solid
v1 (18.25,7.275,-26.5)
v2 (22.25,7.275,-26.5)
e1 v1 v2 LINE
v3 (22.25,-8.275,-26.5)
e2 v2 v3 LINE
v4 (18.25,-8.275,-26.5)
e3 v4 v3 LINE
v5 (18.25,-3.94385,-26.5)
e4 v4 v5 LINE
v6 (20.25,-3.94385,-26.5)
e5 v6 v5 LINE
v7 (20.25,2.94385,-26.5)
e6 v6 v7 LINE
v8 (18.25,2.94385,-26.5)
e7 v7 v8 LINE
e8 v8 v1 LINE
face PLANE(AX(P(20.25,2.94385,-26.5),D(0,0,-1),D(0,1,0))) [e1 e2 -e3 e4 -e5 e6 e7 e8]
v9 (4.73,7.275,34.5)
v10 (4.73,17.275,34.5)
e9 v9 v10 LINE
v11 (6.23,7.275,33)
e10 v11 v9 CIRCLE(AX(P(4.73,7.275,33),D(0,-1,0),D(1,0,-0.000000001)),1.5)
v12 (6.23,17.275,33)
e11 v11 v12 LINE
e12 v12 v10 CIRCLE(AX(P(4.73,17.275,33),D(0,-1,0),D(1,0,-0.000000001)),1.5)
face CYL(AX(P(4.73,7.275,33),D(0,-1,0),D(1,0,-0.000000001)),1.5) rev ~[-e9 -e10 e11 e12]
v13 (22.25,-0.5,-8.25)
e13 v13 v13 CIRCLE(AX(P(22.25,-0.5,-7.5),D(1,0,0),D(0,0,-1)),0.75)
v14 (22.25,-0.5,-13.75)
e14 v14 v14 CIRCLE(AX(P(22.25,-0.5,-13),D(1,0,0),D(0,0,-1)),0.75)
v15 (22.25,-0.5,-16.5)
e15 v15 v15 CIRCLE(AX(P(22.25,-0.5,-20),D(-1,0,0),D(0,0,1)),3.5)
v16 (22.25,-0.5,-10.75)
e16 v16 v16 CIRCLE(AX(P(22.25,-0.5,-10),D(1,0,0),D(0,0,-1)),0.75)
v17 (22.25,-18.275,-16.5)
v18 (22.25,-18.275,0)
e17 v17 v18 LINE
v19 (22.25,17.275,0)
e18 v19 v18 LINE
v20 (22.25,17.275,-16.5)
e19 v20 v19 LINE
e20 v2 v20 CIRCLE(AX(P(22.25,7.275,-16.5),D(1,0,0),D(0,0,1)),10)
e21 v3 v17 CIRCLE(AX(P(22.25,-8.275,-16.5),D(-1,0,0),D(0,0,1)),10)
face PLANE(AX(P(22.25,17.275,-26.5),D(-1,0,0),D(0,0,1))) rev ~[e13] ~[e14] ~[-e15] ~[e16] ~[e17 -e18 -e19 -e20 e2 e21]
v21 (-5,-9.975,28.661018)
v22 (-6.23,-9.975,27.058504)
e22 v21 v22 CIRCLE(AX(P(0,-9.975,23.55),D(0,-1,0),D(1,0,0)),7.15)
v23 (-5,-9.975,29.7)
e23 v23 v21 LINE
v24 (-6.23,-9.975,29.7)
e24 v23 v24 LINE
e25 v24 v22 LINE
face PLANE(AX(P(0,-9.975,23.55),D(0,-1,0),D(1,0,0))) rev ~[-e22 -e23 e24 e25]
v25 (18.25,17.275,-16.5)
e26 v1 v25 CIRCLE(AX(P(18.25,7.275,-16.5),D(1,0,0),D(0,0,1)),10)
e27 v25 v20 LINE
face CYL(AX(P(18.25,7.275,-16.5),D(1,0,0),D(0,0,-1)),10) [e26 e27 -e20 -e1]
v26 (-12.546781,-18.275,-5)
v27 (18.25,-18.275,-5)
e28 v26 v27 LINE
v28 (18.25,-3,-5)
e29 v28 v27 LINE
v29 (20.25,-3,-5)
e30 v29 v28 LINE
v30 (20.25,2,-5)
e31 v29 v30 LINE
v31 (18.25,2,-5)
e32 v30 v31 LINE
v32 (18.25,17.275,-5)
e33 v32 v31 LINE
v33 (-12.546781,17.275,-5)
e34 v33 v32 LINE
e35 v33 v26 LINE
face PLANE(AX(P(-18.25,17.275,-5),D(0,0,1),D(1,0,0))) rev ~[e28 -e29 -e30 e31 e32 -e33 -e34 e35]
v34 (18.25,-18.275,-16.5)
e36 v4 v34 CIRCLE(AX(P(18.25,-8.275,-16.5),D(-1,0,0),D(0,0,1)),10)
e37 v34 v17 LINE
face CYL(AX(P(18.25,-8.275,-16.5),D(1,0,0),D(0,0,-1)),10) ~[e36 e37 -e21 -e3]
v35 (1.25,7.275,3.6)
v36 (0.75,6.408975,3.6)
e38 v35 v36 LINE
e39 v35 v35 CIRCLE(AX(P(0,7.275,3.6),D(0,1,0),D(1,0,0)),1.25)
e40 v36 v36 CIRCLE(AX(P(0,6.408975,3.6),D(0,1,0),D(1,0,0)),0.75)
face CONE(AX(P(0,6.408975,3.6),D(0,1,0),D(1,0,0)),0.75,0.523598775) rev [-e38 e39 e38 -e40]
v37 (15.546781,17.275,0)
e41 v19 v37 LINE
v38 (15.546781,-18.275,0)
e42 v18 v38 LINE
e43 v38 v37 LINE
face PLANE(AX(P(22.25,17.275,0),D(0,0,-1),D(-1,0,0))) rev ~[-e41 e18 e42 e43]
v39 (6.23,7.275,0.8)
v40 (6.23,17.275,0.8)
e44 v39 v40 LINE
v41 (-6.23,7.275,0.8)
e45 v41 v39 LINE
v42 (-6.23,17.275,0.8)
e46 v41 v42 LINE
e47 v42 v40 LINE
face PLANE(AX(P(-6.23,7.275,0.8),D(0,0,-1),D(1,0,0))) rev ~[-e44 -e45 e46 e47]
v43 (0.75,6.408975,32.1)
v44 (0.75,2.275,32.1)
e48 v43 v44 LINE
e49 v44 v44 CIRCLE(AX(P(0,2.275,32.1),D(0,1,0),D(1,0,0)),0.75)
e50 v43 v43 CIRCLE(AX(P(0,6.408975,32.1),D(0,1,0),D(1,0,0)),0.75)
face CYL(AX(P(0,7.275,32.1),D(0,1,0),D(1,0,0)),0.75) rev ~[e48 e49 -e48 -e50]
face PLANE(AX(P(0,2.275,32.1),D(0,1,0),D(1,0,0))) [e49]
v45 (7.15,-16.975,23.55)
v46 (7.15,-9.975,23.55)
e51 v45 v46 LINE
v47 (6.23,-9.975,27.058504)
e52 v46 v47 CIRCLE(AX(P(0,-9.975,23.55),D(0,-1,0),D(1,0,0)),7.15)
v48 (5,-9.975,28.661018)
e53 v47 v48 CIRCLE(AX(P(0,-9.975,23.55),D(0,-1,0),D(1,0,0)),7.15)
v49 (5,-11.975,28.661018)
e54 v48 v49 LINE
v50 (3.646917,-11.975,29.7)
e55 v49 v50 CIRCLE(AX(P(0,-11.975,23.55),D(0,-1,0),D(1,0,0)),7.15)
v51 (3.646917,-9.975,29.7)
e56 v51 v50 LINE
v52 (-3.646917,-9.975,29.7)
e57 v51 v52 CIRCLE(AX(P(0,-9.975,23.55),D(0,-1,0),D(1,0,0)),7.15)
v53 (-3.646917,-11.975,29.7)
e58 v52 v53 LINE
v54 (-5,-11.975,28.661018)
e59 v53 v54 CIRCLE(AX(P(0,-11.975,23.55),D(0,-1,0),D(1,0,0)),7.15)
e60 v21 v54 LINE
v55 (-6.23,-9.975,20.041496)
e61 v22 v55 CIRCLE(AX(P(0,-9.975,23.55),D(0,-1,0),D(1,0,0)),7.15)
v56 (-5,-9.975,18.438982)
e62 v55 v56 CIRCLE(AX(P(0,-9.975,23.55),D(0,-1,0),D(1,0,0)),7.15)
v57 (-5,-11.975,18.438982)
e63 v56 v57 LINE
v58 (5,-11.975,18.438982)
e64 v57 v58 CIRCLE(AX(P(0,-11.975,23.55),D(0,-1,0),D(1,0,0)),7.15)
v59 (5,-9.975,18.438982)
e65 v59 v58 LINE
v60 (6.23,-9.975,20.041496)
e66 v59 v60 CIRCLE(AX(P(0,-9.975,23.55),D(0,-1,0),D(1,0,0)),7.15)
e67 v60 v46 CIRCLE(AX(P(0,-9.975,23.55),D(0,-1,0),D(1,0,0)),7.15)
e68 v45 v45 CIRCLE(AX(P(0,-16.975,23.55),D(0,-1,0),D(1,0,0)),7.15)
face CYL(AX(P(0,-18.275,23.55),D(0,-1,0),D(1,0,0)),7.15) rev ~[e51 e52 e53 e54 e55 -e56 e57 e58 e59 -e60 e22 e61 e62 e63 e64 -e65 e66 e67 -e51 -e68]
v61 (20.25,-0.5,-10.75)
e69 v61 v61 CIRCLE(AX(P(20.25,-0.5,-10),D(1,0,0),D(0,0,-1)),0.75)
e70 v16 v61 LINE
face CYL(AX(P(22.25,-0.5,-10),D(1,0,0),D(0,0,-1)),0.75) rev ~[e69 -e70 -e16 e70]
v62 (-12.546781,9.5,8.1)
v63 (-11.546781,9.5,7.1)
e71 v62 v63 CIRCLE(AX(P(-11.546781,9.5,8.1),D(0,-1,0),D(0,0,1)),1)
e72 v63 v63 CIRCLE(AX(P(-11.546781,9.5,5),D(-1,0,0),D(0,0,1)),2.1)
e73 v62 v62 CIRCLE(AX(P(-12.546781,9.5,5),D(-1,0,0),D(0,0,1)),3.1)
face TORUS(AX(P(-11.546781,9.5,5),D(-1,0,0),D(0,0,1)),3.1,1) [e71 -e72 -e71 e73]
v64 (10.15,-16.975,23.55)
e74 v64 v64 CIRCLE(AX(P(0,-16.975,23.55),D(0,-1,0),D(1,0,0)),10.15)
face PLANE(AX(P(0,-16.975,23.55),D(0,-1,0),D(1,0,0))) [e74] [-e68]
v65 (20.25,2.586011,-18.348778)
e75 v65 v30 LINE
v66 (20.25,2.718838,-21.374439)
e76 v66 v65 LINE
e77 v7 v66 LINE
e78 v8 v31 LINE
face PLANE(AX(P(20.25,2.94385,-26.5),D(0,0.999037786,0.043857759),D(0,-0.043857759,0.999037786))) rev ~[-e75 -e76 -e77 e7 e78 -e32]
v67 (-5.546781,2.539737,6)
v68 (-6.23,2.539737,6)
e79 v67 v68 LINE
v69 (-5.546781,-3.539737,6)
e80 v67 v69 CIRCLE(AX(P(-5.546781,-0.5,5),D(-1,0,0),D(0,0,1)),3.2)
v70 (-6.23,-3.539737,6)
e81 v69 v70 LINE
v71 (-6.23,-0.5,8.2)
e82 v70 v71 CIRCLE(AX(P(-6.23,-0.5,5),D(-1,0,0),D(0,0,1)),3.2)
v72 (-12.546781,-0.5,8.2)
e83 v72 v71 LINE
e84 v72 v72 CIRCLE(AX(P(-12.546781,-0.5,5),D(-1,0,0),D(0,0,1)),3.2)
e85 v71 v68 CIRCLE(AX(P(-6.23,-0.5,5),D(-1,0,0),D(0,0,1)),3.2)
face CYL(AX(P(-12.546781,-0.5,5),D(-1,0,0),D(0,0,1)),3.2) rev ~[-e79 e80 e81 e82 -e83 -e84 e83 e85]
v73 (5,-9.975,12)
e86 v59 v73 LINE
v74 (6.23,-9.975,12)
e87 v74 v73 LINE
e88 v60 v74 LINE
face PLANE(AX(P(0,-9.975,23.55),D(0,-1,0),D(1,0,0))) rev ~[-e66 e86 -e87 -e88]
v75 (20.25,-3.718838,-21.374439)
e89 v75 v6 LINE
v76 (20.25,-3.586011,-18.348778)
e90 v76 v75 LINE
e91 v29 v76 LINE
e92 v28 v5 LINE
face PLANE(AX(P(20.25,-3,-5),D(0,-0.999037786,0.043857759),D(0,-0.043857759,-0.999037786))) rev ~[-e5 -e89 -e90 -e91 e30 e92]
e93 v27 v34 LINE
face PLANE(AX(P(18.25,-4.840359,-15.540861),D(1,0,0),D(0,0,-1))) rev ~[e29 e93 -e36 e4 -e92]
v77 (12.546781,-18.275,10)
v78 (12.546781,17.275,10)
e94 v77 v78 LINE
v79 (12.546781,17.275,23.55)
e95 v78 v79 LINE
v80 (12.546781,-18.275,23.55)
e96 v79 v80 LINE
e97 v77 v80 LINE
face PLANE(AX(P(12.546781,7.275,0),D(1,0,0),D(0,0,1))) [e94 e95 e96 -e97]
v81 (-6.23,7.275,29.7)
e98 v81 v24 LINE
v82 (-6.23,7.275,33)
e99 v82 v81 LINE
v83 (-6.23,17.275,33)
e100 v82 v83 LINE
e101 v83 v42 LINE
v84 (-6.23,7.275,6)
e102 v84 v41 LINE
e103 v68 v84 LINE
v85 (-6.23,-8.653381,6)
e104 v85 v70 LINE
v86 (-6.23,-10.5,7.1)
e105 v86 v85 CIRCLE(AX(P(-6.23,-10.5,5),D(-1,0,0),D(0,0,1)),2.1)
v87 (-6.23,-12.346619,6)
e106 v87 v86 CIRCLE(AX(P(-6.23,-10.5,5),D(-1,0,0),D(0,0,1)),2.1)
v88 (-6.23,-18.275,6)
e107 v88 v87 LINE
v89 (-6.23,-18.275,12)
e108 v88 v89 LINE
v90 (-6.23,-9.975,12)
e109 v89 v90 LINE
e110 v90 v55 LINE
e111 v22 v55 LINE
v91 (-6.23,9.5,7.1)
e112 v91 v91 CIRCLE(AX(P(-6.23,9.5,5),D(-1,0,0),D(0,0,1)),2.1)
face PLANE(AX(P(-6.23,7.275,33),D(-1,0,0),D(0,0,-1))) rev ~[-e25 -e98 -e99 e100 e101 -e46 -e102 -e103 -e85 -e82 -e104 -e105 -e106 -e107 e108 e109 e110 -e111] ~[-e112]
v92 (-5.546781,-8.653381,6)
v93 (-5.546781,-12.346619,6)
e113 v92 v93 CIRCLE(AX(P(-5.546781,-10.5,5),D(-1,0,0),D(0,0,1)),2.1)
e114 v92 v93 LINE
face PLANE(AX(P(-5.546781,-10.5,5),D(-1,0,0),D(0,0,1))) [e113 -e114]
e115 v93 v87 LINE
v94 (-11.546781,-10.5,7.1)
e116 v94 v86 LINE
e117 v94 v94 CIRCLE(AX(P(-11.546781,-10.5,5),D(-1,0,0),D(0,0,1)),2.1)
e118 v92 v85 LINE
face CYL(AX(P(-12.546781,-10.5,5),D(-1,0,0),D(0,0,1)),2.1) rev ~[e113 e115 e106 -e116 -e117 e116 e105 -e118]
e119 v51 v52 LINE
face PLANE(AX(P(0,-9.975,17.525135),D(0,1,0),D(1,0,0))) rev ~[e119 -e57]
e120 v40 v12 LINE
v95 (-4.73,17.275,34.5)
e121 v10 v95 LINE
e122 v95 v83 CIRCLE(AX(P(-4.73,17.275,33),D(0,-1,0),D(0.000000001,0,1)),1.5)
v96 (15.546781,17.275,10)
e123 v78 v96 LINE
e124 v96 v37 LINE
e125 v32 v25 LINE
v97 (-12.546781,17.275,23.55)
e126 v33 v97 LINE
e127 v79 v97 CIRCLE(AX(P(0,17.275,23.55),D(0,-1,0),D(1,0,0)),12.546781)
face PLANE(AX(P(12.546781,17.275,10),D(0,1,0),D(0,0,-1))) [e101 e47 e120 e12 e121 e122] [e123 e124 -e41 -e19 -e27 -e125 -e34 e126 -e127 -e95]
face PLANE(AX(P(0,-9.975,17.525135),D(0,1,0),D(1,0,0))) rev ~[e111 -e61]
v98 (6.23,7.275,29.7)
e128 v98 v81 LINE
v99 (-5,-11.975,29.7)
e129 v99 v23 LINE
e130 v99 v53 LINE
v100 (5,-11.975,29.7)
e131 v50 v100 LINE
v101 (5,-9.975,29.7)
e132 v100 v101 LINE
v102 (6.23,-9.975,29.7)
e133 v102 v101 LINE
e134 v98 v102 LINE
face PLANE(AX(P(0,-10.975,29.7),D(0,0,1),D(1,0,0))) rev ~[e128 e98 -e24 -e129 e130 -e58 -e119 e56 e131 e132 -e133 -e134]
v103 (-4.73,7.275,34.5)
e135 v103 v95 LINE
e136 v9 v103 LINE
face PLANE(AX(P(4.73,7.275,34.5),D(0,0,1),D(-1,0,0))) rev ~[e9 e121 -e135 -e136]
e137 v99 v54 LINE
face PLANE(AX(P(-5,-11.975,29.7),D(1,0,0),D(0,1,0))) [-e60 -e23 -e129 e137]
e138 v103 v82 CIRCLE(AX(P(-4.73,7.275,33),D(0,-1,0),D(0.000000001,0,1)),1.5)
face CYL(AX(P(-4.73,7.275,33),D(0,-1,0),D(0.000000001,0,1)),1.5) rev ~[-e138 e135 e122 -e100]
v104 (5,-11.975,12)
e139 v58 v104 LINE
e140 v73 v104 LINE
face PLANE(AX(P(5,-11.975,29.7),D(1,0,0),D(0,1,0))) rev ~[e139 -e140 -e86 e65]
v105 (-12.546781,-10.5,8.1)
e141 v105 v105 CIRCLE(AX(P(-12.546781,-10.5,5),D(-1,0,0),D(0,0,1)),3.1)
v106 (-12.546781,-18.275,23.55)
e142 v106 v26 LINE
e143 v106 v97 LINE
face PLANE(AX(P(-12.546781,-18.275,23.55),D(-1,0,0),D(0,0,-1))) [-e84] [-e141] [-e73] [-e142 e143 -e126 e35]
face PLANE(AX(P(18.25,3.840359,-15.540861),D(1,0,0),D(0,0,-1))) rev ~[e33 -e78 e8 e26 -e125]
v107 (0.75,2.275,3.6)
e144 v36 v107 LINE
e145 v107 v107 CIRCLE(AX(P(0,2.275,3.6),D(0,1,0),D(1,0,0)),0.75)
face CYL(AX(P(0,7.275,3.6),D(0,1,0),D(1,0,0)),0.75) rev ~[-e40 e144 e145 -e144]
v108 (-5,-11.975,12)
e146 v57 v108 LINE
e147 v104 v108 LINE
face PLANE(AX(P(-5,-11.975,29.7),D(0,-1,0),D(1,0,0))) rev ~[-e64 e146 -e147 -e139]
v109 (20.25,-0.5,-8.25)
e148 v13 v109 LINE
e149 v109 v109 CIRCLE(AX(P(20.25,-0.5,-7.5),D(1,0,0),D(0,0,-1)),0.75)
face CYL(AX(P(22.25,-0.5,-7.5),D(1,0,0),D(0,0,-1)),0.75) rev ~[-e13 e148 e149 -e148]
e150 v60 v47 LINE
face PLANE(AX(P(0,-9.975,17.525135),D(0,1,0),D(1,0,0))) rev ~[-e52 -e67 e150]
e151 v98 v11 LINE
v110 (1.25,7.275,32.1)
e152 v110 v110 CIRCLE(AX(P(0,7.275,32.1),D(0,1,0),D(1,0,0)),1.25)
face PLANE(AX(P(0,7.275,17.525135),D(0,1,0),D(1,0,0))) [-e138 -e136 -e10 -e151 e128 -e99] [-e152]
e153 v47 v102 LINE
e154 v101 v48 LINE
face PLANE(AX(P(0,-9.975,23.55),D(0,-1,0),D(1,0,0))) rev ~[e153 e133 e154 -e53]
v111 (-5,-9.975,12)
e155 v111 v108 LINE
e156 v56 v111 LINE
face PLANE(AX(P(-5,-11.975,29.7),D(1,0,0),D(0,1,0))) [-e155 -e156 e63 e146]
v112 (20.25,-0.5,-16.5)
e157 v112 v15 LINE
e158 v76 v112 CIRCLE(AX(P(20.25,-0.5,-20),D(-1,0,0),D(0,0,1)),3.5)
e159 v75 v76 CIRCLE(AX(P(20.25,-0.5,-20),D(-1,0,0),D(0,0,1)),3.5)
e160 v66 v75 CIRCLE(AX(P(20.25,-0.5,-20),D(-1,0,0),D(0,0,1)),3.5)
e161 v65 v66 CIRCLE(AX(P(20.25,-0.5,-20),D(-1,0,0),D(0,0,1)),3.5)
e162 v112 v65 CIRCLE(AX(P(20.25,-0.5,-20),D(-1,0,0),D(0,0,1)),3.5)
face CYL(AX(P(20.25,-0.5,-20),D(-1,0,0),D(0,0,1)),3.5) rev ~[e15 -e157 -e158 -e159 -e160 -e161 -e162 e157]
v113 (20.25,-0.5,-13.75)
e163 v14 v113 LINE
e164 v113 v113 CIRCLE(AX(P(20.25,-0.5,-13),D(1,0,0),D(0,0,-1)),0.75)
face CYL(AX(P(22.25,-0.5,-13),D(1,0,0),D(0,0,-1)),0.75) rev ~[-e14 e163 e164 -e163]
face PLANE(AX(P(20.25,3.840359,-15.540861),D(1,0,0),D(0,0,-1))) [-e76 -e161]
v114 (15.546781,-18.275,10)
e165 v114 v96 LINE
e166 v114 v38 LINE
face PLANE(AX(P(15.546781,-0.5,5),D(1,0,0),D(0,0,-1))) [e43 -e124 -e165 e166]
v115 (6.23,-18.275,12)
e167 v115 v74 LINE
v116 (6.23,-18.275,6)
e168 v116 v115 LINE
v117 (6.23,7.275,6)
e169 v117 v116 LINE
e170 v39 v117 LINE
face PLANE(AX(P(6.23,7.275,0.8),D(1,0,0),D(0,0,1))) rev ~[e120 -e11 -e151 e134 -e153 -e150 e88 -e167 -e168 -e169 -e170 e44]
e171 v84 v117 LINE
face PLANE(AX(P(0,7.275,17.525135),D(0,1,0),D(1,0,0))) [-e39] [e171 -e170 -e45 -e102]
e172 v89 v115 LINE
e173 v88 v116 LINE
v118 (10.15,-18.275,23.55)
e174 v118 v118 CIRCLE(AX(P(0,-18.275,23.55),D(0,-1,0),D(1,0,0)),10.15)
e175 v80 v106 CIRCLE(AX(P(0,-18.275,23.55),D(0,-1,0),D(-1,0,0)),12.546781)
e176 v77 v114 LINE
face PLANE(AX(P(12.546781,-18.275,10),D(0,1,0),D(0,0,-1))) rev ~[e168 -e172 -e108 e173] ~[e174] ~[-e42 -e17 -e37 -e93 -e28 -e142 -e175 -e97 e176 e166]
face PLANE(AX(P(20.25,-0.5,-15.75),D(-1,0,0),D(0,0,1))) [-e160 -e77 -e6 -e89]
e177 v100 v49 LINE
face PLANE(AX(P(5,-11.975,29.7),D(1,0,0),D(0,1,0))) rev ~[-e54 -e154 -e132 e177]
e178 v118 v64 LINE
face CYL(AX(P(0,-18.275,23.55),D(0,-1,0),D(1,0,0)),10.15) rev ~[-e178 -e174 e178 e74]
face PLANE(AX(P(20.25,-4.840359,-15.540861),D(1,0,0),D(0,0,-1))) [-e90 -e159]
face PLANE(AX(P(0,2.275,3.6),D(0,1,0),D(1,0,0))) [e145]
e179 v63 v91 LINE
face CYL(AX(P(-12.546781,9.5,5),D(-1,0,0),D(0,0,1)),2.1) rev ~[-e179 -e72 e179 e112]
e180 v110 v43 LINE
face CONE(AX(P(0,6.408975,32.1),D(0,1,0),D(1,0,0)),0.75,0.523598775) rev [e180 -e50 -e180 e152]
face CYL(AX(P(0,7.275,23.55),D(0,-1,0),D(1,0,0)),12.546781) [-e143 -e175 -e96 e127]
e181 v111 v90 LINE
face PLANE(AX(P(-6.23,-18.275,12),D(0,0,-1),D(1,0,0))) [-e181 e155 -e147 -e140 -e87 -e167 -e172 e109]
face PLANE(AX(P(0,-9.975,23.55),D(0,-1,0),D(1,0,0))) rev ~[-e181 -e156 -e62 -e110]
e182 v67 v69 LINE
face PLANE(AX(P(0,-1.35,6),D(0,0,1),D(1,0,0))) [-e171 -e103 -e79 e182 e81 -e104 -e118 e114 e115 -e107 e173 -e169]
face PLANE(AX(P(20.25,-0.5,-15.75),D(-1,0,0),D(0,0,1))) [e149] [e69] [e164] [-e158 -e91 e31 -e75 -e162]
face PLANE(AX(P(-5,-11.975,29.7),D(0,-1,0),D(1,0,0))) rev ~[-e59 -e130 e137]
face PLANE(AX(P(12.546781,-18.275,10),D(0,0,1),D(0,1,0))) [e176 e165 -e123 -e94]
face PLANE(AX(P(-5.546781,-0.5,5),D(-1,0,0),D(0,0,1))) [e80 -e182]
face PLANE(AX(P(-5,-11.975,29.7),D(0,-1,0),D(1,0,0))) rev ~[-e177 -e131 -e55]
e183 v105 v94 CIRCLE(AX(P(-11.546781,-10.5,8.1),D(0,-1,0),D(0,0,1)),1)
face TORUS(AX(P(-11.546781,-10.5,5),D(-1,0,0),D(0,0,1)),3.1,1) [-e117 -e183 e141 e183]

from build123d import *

# Parameters (mm, degrees)
SKETCH4_W                = 12.46
SKETCH4_H                = 17.25
BOSS_EXTRUDE3_DEPTH      = 6
SKETCH8_R                = 12.546781182
SKETCH8_R_2              = 11.15
BOSS_EXTRUDE6_DEPTH      = 8.3
BOSS_EXTRUDE6_DEPTH_BACK = 17.25
BOSS_EXTRUDE4_DEPTH      = 17.25
SKETCH6_R                = 0.75
CUT_EXTRUDE1_DEPTH       = 5
CHAMFER1_SIZE            = 0.5
CHAMFER1_SIZE2           = 0.866025404
SKETCH10_W               = 12.46
SKETCH10_H               = 23.7
CUT_EXTRUDE3_DEPTH       = 17.25
BOSS_EXTRUDE7_DEPTH      = 8.3
BOSS_EXTRUDE9_DEPTH      = 10
SKETCH20_R               = 11.15
SKETCH20_R_2             = 7.15
BOSS_EXTRUDE11_DEPTH     = 8.3
SKETCH21_R               = 10.15
SKETCH21_R_2             = 7.15
CUT_EXTRUDE7_DEPTH       = 1.3
SKETCH11_W               = 10
SKETCH11_H               = 2
CUT_EXTRUDE4_DEPTH       = 23.7
CUT_EXTRUDE8_REACH       = 37.55
SKETCH25_W               = 12.46
SKETCH25_H               = 6
BOSS_EXTRUDE10_DEPTH     = 35.55
SKETCH18_W               = 21.5
SKETCH18_H               = 11.438292938
CUT_EXTRUDE5_DEPTH       = 2
SKETCH19_R               = 3.5
CUT_EXTRUDE6_DEPTH       = 43.5
CUT_EXTRUDE6_DEPTH_BACK  = 3
FILLET1_R                = 10
SKETCH22_R               = 6.5
BOSS_EXTRUDE12_DEPTH     = 5
SKETCH23_R               = 5.85
BOSS_EXTRUDE13_DEPTH     = 5
FILLET2_R                = 1
BOSS_EXTRUDE14_DEPTH     = 2
CUT_EXTRUDE9_REACH       = 46.5
SKETCH27_R               = 0.75
CUT_EXTRUDE10_DEPTH      = 36.55
SKETCH29_R               = 2.1
SKETCH29_R_2             = 3.2
CUT_EXTRUDE11_DEPTH      = 7
FILLET3_R                = 1
SKETCH31_W               = 10
SKETCH31_H               = 35.55
BOSS_EXTRUDE15_DEPTH     = 3


with BuildPart() as part:
    # Sketch4 → Boss-Extrude3 (new body)
    with BuildSketch(Plane.XY):
        with Locations((0, -1.35)):
            Rectangle(SKETCH4_W, SKETCH4_H)
    extrude(amount=BOSS_EXTRUDE3_DEPTH)



with BuildPart() as body_2:
    # Sketch8 → Boss-Extrude6 (new body, two sides)
    with BuildSketch(Plane(origin=(0, -9.975, 0), x_dir=(-1, 0, 0), z_dir=(0, -1, 0))) as boss_extrude6_sk:
        with Locations((0, -23.55)):
            Circle(SKETCH8_R)
        with Locations((0, -23.55)):
            Circle(SKETCH8_R_2, mode=Mode.SUBTRACT)
    extrude(amount=BOSS_EXTRUDE6_DEPTH)
    extrude(boss_extrude6_sk.sketch, amount=-BOSS_EXTRUDE6_DEPTH_BACK)


with BuildPart() as part_1:
    add(part.part)

    add(body_2.part)  # Boss-Extrude4 merges body 2
    # Sketch5 → Boss-Extrude4 (add)
    with BuildSketch(Plane(origin=(0, 7.275, 0), x_dir=(1, 0, 0), z_dir=(0, 1, 0))):
        with BuildLine():
            Line((12.546781182, -23.55), (12.546781182, 0))
            Line((12.546781182, 0), (6.23, 0))
            Line((6.23, 0), (6.23, -29.7))
            Line((6.23, -29.7), (-6.23, -29.7))
            Line((-6.23, -29.7), (-6.23, 0))
            Line((-6.23, 0), (-12.546781182, 0))
            Line((-12.546781182, 0), (-12.546781182, -23.55))
            ThreePointArc((-12.546781182, -23.55), (0, -36.096781182), (12.546781182, -23.55))
        make_face()
    extrude(amount=-BOSS_EXTRUDE4_DEPTH)

    # Sketch6 → Cut-Extrude1 (cut)
    with BuildSketch(Plane(origin=(0, 7.275, 0), x_dir=(1, 0, 0), z_dir=(0, 1, 0))):
        with Locations((0, -3.6)):
            Circle(SKETCH6_R)
        with Locations((0, -32.1)):
            Circle(SKETCH6_R)
    extrude(amount=-CUT_EXTRUDE1_DEPTH, mode=Mode.SUBTRACT)

    # Chamfer1
    chamfer1_edges = [part_1.edges().sort_by_distance(p)[0] for p in [
        (-0.75, 7.275, 3.6),
        (-0.75, 7.275, 32.1),
    ]]
    chamfer1_side = [part_1.faces().sort_by_distance(p)[0] for p in [
        (0, 7.275, 35.657160381),
    ]]
    chamfer(chamfer1_edges, length=CHAMFER1_SIZE, length2=CHAMFER1_SIZE2, reference=chamfer1_side[0])

    # Sketch10 → Cut-Extrude3 (cut)
    with BuildSketch(Plane(origin=(0, 7.275, 0), x_dir=(1, 0, 0), z_dir=(0, 1, 0))):
        with Locations((0, -17.85)):
            Rectangle(SKETCH10_W, SKETCH10_H)
    extrude(amount=-CUT_EXTRUDE3_DEPTH, mode=Mode.SUBTRACT)

    # Sketch13 → Boss-Extrude7 (add)
    with BuildSketch(Plane.XZ.offset(18.275)):
        with BuildLine():
            Line((-12.546781182, 23.55), (-12.546781182, 0))
            Line((-12.546781182, 0), (12.546781182, 0))
            Line((12.546781182, 0), (12.546781182, 23.55))
            ThreePointArc((12.546781182, 23.55), (0, 11.003218818), (-12.546781182, 23.55))
        make_face()
    extrude(amount=-BOSS_EXTRUDE7_DEPTH)

    # Sketch15 → Boss-Extrude9 (add)
    with BuildSketch(Plane(origin=(0, 7.275, 0), x_dir=(1, 0, 0), z_dir=(0, 1, 0))):
        with BuildLine():
            Line((-12.546781182, 0), (12.546781182, 0))
            Line((12.546781182, 0), (12.546781182, -23.55))
            ThreePointArc((12.546781182, -23.55), (0, -36.096781182), (-12.546781182, -23.55))
            Line((-12.546781182, -23.55), (-12.546781182, 0))
        make_face()
        with BuildLine():
            Line((-6.23, -0.8), (6.23, -0.8))
            Line((6.23, -0.8), (6.23, -33))
            ThreePointArc((6.23, -33), (5.790660172, -34.060660172), (4.73, -34.5))
            Line((4.73, -34.5), (-4.73, -34.5))
            ThreePointArc((-4.73, -34.5), (-5.790660172, -34.060660172), (-6.23, -33))
            Line((-6.23, -33), (-6.23, -0.8))
        make_face(mode=Mode.SUBTRACT)
    extrude(amount=BOSS_EXTRUDE9_DEPTH)

    # Sketch20 → Boss-Extrude11 (add)
    with BuildSketch(Plane.XZ.offset(18.275)):
        with Locations((0, 23.55)):
            Circle(SKETCH20_R)
        with Locations((0, 23.55)):
            Circle(SKETCH20_R_2, mode=Mode.SUBTRACT)
    extrude(amount=-BOSS_EXTRUDE11_DEPTH)

    # Sketch21 → Cut-Extrude7 (cut)
    with BuildSketch(Plane.XZ.offset(18.275)):
        with Locations((0, 23.55)):
            Circle(SKETCH21_R)
        with Locations((0, 23.55)):
            Circle(SKETCH21_R_2, mode=Mode.SUBTRACT)
    extrude(amount=-CUT_EXTRUDE7_DEPTH, mode=Mode.SUBTRACT)

    # Sketch11 → Cut-Extrude4 (cut)
    with BuildSketch(Plane.XY.offset(29.7)):
        with Locations((0, -10.975)):
            Rectangle(SKETCH11_W, SKETCH11_H)
    extrude(amount=-CUT_EXTRUDE4_DEPTH, mode=Mode.SUBTRACT)

    # Sketch25 → Cut-Extrude8 (cut, up to next)
    with BuildSketch(Plane.XZ.offset(18.275), mode=Mode.PRIVATE) as cut_extrude8_sk1:
        with Locations((0, 9)):
            Rectangle(SKETCH25_W, SKETCH25_H)
    cut_extrude8_tool1 = extrude(cut_extrude8_sk1.sketch, amount=-CUT_EXTRUDE8_REACH, mode=Mode.PRIVATE) & part_1.part
    add(cut_extrude8_tool1.solids().sort_by_distance((0, -18.275, 9))[0], mode=Mode.SUBTRACT)

    # Sketch17 → Boss-Extrude10 (add)
    with BuildSketch(Plane(origin=(0, 17.275, 0), x_dir=(1, 0, 0), z_dir=(0, 1, 0))):
        Polygon((22.25, 26.5), (22.25, 0), (-22.25, 0), (-22.25, 26.5), (-18.25, 26.5), (-18.25, 5), (18.25, 5), (18.25, 26.5), align=None)
    extrude(amount=-BOSS_EXTRUDE10_DEPTH)

    # Sketch18 → Cut-Extrude5 (cut)
    with BuildSketch(Plane.ZY.offset(-18.25)):
        with Locations((-15.75, -0.5)):
            Rectangle(SKETCH18_W, SKETCH18_H)
    extrude(amount=-CUT_EXTRUDE5_DEPTH, mode=Mode.SUBTRACT)

    # Sketch19 → Cut-Extrude6 (cut, two sides)
    with BuildSketch(Plane.ZY.offset(-20.25)) as cut_extrude6_sk:
        with Locations((-20, -0.5)):
            Circle(SKETCH19_R)
    extrude(amount=CUT_EXTRUDE6_DEPTH, mode=Mode.SUBTRACT)
    extrude(cut_extrude6_sk.sketch, amount=-CUT_EXTRUDE6_DEPTH_BACK, mode=Mode.SUBTRACT)

    # Fillet1
    fillet1_edges = [part_1.edges().sort_by_distance(p)[0] for p in [
        (20.25, 17.275, -26.5),
        (-20.25, 17.275, -26.5),
        (-20.25, -18.275, -26.5),
        (20.25, -18.275, -26.5),
    ]]
    fillet(fillet1_edges, radius=FILLET1_R)

    # Sketch22 → Boss-Extrude12 (add)
    with BuildSketch(Plane.ZY.offset(22.25)):
        with Locations((-20, -0.5)):
            Circle(SKETCH22_R)
    extrude(amount=-BOSS_EXTRUDE12_DEPTH)

    # Sketch23 → Boss-Extrude13 (add)
    with BuildSketch(Plane(origin=(-17.25, 0, 0), x_dir=(0, 0, -1), z_dir=(1, 0, 0))):
        with Locations((20, -0.5)):
            Circle(SKETCH23_R)
    extrude(amount=BOSS_EXTRUDE13_DEPTH)

    # Fillet2
    fillet2_edges = [part_1.edges().sort_by_distance(p)[0] for p in [
        (-12.25, -0.5, -14.15),
    ]]
    fillet(fillet2_edges, radius=FILLET2_R)

    # Sketch26 → Boss-Extrude14 (add)
    with BuildSketch(Plane.ZY.offset(-20.25)):
        Polygon((-5, 2), (-20, 2.6585), (-26.5, 2.94385), (-26.5, 5.219146469), (-5, 5.219146469), align=None)
        Polygon((-20, -3.6585), (-5, -3), (-5, -6.219146469), (-26.5, -6.219146469), (-26.5, -3.94385), align=None)
    extrude(amount=BOSS_EXTRUDE14_DEPTH)

    # Sketch27 → Cut-Extrude9 (cut, up to next)
    with BuildSketch(Plane(origin=(22.25, 0, 0), x_dir=(0, 0, -1), z_dir=(1, 0, 0)), mode=Mode.PRIVATE) as cut_extrude9_sk1:
        with Locations((10, -0.5)):
            Circle(SKETCH27_R)
    cut_extrude9_tool1 = extrude(cut_extrude9_sk1.sketch, amount=-CUT_EXTRUDE9_REACH, mode=Mode.PRIVATE) & part_1.part
    add(cut_extrude9_tool1.solids().sort_by_distance((22.25, -0.5, -10))[0], mode=Mode.SUBTRACT)
    # Sketch27 → Cut-Extrude9 (cut, up to next)
    with BuildSketch(Plane(origin=(22.25, 0, 0), x_dir=(0, 0, -1), z_dir=(1, 0, 0)), mode=Mode.PRIVATE) as cut_extrude9_sk2:
        with Locations((7.5, -0.5)):
            Circle(SKETCH27_R)
    cut_extrude9_tool2 = extrude(cut_extrude9_sk2.sketch, amount=-CUT_EXTRUDE9_REACH, mode=Mode.PRIVATE) & part_1.part
    add(cut_extrude9_tool2.solids().sort_by_distance((22.25, -0.5, -7.5))[0], mode=Mode.SUBTRACT)
    # Sketch27 → Cut-Extrude9 (cut, up to next)
    with BuildSketch(Plane(origin=(22.25, 0, 0), x_dir=(0, 0, -1), z_dir=(1, 0, 0)), mode=Mode.PRIVATE) as cut_extrude9_sk3:
        with Locations((13, -0.5)):
            Circle(SKETCH27_R)
    cut_extrude9_tool3 = extrude(cut_extrude9_sk3.sketch, amount=-CUT_EXTRUDE9_REACH, mode=Mode.PRIVATE) & part_1.part
    add(cut_extrude9_tool3.solids().sort_by_distance((22.25, -0.5, -13))[0], mode=Mode.SUBTRACT)

    # Sketch28 → Cut-Extrude10 (cut, through all)
    with BuildSketch(Plane.XZ.offset(18.275)):
        Polygon((-12.546781182, 23.55), (-12.546781182, -11.553408701), (-1.720894485, -11.553408701), (-1.720894485, -30.302101254), (-26.809724616, -30.302101254), (-26.809724616, 23.55), align=None)
    extrude(amount=-CUT_EXTRUDE10_DEPTH, mode=Mode.SUBTRACT)

    # Sketch29 → Cut-Extrude11 (cut)
    with BuildSketch(Plane.ZY.offset(12.546781182)):
        with Locations((5, 9.5)):
            Circle(SKETCH29_R)
        with Locations((5, -10.5)):
            Circle(SKETCH29_R)
        with Locations((5, -0.5)):
            Circle(SKETCH29_R_2)
    extrude(amount=-CUT_EXTRUDE11_DEPTH, mode=Mode.SUBTRACT)

    # Fillet3
    fillet3_edges = [part_1.edges().sort_by_distance(p)[0] for p in [
        (-12.546781182, 9.5, 2.9),
        (-12.546781182, -10.5, 2.9),
    ]]
    fillet(fillet3_edges, radius=FILLET3_R)

    # Sketch31 → Boss-Extrude15 (add)
    with BuildSketch(Plane(origin=(12.546781182, 0, 0), x_dir=(0, 0, -1), z_dir=(1, 0, 0))):
        with Locations((-5, -0.5)):
            Rectangle(SKETCH31_W, SKETCH31_H)
    extrude(amount=BOSS_EXTRUDE15_DEPTH)


solid = part_1.part
